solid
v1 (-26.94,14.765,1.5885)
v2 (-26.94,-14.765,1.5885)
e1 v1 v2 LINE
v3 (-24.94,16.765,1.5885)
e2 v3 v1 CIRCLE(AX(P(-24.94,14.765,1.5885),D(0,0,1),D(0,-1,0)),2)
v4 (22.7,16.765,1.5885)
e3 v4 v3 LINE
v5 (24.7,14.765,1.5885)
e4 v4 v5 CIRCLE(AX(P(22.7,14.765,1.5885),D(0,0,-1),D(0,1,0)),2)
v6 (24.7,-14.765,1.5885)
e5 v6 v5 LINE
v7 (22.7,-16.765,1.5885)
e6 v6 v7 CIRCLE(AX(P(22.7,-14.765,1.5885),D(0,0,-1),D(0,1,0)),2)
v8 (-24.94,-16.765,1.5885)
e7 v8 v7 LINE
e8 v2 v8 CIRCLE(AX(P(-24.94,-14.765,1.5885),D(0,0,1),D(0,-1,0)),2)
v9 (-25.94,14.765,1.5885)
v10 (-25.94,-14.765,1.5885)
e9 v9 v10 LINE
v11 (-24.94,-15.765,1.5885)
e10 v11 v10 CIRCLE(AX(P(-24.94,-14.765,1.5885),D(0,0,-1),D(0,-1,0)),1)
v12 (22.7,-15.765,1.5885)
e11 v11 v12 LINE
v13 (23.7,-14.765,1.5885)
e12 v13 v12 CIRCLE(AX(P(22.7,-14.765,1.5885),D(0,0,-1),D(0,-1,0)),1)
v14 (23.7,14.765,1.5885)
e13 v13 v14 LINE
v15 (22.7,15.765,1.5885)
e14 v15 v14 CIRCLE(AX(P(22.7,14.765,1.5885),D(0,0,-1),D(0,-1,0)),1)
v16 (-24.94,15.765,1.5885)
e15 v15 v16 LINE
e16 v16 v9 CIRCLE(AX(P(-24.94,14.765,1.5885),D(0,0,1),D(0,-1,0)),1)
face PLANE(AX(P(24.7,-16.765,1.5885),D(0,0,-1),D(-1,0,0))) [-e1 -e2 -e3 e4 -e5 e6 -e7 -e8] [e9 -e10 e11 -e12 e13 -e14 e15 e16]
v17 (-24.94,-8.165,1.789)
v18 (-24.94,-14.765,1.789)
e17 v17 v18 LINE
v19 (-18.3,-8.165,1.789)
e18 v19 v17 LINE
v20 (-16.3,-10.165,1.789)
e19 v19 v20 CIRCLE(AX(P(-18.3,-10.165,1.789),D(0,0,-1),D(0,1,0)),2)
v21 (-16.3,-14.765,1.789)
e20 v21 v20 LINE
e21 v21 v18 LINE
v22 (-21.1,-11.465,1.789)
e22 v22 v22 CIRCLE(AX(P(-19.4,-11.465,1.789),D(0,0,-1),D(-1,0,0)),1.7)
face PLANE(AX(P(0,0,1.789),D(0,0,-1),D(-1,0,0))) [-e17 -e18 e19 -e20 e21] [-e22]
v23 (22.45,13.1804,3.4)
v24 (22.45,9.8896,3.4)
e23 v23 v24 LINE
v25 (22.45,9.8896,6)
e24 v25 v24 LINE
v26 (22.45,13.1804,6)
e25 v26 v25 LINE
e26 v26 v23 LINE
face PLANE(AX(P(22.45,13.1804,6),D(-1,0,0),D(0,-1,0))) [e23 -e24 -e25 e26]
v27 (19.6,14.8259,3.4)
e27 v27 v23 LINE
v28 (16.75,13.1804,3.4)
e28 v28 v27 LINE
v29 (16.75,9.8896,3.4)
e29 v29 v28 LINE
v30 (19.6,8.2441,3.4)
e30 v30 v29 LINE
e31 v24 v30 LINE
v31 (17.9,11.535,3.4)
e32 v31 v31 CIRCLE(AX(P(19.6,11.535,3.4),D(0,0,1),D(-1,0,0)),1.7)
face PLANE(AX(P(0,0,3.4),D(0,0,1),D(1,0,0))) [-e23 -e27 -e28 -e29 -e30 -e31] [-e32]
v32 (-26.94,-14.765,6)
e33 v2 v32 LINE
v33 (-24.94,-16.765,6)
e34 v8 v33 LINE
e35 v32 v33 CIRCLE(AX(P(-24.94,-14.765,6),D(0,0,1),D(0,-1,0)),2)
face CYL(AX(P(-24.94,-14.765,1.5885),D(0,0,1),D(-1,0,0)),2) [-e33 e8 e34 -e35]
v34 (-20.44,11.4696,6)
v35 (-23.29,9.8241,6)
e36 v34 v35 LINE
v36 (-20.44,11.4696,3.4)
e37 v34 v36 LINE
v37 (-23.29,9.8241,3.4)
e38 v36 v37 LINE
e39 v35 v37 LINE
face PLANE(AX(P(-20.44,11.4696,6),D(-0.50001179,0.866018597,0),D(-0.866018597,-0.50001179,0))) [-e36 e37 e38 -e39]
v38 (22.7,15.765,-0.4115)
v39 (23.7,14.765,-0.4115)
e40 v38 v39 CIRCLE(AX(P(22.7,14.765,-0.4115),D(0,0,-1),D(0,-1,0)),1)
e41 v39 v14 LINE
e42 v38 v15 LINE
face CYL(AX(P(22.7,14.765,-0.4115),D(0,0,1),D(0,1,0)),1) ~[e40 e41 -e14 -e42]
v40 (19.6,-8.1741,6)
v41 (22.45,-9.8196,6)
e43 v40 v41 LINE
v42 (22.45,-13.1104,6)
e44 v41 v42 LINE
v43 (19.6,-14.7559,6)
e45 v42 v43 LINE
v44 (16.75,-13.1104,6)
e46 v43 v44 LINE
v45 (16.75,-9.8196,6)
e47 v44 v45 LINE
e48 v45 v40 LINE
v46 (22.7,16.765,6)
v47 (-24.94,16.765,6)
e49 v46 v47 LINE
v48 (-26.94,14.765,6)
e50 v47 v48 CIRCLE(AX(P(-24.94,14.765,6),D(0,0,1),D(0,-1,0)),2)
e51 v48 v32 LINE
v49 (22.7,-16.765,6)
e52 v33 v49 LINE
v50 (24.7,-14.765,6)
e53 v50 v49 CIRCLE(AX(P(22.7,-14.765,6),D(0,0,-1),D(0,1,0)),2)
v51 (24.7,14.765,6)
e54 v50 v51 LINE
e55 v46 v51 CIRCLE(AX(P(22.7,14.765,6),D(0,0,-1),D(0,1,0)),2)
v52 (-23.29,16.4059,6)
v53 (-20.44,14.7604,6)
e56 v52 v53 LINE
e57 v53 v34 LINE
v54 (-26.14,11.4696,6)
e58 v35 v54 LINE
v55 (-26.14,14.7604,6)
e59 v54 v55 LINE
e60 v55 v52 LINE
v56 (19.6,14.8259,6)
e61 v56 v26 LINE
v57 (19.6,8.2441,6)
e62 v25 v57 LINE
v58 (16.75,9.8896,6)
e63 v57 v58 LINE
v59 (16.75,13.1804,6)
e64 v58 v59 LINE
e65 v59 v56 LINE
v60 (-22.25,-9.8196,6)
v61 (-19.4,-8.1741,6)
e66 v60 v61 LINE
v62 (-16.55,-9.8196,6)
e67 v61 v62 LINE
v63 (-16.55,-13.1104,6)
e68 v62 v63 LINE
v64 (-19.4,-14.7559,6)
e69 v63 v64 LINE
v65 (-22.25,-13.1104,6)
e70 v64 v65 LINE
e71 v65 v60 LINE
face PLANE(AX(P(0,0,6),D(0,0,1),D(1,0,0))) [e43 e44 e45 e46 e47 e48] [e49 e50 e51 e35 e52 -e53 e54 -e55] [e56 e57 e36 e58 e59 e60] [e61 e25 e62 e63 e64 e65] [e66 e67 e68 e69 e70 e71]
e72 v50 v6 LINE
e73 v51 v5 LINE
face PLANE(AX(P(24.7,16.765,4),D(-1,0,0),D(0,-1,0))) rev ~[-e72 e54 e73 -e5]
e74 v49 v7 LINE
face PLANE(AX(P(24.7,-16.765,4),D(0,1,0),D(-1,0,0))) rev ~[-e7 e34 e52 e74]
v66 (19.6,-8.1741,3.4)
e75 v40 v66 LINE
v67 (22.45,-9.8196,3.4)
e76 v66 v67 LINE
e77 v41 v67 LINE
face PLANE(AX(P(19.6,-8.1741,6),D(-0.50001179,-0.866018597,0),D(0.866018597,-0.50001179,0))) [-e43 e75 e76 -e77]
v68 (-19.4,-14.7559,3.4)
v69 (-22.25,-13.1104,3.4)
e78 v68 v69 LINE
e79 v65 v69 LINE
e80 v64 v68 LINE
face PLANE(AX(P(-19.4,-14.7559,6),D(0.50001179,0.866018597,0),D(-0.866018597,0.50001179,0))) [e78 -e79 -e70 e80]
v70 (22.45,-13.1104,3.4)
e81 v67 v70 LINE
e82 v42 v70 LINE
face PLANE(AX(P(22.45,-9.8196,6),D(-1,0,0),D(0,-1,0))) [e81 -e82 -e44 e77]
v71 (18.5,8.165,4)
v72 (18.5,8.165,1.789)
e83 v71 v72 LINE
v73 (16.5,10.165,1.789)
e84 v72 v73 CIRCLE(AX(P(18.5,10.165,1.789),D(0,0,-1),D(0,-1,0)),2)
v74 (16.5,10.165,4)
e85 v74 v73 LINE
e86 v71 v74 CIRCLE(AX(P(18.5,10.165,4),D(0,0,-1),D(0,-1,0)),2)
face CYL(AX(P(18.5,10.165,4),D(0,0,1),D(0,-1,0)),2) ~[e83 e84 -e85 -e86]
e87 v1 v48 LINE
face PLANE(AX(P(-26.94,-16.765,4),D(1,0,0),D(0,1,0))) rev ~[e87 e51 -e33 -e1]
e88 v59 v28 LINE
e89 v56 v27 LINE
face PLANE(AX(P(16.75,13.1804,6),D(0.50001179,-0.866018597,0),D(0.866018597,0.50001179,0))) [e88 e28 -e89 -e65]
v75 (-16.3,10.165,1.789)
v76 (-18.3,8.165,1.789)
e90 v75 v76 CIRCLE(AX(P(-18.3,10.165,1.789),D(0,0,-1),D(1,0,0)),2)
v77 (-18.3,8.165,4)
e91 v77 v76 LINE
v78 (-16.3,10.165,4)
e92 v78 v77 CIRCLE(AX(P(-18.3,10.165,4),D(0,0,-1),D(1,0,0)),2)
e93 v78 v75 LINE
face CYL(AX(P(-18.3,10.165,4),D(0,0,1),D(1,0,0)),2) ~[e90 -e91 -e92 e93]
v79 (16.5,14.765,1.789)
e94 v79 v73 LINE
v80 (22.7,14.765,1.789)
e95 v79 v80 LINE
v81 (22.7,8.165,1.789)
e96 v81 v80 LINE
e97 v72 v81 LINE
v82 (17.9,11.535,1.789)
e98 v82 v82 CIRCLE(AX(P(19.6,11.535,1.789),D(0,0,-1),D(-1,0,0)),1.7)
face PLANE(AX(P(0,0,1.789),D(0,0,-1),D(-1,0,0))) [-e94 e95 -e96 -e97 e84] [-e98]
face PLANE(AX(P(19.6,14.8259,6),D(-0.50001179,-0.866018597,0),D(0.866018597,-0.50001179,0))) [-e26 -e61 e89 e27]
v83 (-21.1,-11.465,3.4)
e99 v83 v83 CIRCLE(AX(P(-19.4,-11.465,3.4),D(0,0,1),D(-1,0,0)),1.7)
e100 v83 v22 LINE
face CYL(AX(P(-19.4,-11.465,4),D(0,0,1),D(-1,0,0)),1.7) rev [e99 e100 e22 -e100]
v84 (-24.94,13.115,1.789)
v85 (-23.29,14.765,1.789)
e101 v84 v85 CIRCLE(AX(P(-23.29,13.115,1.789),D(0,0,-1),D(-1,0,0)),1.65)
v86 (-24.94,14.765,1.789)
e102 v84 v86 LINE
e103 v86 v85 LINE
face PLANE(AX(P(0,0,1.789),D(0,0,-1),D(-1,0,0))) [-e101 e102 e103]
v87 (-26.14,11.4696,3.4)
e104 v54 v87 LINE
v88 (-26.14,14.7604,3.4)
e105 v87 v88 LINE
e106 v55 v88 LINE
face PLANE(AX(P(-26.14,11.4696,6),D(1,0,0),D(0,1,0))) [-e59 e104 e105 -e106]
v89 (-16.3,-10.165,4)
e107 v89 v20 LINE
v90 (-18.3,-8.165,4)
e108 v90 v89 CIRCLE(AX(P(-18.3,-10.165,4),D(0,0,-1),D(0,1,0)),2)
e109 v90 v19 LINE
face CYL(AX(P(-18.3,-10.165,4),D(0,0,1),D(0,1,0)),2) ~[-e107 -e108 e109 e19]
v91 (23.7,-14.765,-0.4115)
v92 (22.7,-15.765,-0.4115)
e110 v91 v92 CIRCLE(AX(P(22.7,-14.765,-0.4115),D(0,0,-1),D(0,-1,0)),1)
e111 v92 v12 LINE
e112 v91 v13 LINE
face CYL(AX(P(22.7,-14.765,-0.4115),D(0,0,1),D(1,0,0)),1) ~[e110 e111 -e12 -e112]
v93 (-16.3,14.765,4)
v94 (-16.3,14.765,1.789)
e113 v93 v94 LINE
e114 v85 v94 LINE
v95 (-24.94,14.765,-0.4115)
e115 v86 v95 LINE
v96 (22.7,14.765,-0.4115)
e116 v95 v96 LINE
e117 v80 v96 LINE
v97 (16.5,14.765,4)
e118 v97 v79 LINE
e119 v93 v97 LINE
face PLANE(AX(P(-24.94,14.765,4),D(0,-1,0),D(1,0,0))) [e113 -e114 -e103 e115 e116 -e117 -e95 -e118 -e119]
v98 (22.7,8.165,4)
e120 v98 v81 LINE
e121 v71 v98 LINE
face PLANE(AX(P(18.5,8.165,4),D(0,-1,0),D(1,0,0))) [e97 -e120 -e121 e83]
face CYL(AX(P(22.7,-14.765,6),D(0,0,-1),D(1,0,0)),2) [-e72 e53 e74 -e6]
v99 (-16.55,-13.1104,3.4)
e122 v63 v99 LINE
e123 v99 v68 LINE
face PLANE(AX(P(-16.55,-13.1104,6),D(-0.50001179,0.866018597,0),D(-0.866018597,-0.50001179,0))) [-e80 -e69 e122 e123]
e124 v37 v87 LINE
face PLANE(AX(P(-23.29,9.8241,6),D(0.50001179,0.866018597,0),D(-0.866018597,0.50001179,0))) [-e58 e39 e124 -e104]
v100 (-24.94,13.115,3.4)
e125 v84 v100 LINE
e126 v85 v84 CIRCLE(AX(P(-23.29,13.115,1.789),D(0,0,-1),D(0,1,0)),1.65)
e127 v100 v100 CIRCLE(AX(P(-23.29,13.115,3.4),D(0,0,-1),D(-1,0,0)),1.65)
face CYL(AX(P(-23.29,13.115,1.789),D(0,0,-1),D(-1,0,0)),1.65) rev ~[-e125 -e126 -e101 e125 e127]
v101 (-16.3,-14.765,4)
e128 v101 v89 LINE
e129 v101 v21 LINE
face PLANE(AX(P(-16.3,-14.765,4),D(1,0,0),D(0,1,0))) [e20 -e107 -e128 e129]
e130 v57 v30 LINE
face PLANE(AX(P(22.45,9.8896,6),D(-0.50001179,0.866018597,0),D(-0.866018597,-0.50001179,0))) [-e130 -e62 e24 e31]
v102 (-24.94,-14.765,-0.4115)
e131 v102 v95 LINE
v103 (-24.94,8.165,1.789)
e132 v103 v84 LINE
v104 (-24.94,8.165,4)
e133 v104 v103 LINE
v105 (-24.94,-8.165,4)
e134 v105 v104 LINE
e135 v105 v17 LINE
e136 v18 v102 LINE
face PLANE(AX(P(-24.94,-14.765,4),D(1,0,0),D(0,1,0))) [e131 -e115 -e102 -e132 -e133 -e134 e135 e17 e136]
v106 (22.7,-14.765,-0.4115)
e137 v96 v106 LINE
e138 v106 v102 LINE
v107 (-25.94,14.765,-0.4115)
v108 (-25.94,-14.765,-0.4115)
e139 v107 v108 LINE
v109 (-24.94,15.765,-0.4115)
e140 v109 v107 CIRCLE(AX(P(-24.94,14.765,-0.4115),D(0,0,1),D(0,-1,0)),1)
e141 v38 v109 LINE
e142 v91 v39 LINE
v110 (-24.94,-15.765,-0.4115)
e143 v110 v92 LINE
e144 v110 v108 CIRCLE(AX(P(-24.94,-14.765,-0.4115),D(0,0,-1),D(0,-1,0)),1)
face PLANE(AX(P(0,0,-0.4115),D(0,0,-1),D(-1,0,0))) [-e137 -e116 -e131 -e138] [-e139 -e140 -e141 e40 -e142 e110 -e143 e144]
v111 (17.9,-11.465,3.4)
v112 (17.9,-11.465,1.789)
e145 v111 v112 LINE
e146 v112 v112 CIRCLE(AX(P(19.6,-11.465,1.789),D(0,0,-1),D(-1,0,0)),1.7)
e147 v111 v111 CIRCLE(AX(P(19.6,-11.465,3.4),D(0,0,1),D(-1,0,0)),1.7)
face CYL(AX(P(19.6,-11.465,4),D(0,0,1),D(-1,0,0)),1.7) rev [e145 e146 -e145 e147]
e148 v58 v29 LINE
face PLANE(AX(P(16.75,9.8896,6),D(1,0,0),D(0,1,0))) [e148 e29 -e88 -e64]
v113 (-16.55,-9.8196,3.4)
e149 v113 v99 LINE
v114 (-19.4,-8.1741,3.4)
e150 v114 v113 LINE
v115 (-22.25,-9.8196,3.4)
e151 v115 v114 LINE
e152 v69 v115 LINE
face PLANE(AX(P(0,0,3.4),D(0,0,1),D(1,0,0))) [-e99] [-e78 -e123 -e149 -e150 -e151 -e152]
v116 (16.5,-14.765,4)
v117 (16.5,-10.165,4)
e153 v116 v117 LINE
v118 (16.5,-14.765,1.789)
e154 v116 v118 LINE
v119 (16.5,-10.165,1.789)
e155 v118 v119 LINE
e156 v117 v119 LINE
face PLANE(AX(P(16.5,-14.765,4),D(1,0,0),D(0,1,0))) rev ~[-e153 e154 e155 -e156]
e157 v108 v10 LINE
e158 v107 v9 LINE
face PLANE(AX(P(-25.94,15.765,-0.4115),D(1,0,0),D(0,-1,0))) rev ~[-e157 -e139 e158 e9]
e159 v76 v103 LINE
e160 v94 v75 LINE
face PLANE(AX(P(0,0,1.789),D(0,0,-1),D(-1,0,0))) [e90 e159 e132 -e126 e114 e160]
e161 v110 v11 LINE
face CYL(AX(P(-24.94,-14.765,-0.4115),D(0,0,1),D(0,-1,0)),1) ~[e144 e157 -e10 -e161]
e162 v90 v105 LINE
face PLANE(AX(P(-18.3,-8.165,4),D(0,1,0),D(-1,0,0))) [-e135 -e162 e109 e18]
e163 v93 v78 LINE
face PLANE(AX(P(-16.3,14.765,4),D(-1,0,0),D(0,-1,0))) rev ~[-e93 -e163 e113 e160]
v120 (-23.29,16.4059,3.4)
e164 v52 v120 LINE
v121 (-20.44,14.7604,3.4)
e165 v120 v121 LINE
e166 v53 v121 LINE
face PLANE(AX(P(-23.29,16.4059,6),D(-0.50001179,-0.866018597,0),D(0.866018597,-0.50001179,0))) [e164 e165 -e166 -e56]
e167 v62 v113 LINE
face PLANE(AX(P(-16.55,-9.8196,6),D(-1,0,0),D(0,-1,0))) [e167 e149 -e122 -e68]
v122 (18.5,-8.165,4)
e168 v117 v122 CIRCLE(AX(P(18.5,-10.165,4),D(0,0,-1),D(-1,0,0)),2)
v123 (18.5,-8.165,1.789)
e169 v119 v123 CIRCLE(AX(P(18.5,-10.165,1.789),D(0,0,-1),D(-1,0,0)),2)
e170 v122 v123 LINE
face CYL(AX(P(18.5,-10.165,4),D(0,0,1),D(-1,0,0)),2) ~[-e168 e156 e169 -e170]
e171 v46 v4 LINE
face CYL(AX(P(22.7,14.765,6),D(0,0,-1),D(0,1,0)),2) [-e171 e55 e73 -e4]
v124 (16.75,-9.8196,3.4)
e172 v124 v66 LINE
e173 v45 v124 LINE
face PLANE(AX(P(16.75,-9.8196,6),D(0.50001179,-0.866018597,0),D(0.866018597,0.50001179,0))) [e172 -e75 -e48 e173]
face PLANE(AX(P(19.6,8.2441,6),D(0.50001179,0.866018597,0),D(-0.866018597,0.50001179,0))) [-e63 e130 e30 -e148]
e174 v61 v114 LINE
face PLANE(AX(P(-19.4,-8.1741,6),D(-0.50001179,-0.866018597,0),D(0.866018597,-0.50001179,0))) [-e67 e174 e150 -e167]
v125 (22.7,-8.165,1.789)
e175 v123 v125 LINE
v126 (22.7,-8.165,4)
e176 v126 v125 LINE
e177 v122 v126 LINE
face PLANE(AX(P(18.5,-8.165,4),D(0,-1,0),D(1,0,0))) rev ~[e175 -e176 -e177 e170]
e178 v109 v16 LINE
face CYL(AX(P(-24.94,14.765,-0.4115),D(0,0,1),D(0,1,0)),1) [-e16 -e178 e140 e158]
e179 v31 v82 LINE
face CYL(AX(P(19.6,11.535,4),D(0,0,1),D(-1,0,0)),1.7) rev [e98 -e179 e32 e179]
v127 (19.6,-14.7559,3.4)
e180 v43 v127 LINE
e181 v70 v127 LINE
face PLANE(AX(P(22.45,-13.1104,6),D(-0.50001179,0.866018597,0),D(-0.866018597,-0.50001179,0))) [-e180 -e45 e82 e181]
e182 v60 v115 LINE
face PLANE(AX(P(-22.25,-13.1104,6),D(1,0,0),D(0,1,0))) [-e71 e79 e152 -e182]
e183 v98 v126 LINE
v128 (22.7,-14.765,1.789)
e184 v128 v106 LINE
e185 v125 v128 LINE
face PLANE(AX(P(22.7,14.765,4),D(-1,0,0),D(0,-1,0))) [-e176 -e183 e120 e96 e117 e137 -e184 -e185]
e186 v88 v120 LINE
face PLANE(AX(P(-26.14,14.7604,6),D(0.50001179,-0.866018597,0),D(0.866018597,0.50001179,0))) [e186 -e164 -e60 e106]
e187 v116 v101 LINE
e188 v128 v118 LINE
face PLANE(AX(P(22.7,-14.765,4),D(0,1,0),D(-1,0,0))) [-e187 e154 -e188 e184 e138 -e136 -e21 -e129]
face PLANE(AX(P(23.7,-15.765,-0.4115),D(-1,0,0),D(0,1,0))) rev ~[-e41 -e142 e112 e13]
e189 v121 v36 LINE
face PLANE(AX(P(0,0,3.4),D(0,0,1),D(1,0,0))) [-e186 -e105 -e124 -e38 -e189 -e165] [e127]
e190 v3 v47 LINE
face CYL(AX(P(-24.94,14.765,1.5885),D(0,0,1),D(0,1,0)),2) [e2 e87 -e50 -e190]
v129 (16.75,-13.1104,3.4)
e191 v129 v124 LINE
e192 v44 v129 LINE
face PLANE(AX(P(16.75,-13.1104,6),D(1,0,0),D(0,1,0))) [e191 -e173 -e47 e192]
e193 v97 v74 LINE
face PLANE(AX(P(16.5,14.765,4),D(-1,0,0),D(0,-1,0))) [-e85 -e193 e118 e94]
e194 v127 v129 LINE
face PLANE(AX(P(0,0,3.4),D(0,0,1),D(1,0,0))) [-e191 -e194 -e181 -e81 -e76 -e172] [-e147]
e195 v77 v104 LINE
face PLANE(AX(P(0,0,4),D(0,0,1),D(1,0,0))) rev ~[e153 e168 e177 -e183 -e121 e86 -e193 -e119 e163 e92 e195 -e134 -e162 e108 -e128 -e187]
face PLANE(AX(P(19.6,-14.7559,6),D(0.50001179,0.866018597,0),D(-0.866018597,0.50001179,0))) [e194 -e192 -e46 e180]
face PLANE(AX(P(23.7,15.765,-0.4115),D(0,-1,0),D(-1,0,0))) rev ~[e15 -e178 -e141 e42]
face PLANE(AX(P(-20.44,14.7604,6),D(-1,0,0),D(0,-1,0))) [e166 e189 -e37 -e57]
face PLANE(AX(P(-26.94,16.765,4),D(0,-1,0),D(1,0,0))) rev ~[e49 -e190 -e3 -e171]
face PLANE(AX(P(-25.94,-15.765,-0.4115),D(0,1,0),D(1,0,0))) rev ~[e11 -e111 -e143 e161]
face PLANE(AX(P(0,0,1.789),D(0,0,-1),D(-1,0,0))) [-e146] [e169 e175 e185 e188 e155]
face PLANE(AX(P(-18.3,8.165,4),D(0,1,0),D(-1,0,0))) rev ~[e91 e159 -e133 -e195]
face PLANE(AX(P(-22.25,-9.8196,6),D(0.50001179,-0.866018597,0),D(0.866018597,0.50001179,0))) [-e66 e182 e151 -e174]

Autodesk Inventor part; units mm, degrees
ref_plane "YZ Plane" through (0, 0, 0) normal (1, 0, 0) x (0, 1, 0)
ref_plane "Arbeitsebene1" through (0, 0, 6) normal (0, 0, 1) x (1, 0, 0)
sketch "Skizze3" plane through (0, 0, 6) normal (0, 0, 1) x (1, 0, 0)
  line L0 (22.5, -14.565) -> (22.5, 14.565) projected
  line L1 (-22.5, -14.565) -> (22.5, -14.565) projected
  line L2 (-22.5, 10.565) -> (-22.5, -14.565) projected
  line L3 (22.5, 14.565) -> (-18.5, 14.565) projected
  circle A0 centre (19.6, -11.465) radius 1.5 projected
  circle A1 centre (13.06, -2.125) radius 0.65 projected
  circle A2 centre (13.06, -4.665) radius 0.65 projected
  circle A3 centre (13.06, 0.415) radius 0.65 projected
  circle A4 centre (13.06, 2.955) radius 0.65 projected
  circle A5 centre (-2.18, 5.495) radius 0.65 projected
  circle A6 centre (13.06, 5.495) radius 0.65 projected
  circle A7 centre (19.6, 11.535) radius 1.5 projected
  circle A8 centre (13.06, 8.035) radius 0.65 projected
  circle A9 centre (13.06, 10.575) radius 0.65 projected
  circle A10 centre (-2.18, 8.035) radius 0.65 projected
  circle A11 centre (13.06, 13.115) radius 0.65 projected
  circle A12 centre (-2.18, 10.575) radius 0.65 projected
  circle A13 centre (-7.26, -6.945) radius 0.5 projected
  circle A14 centre (-2.18, -2.125) radius 0.65 projected
  circle A15 centre (-2.18, -4.665) radius 0.65 projected
  circle A16 centre (-12.34, -6.945) radius 0.5 projected
  circle A17 centre (-19.4, -11.465) radius 1.5 projected
  circle A18 centre (-7.26, -4.405) radius 0.5 projected
  circle A19 centre (-12.34, -4.405) radius 0.5 projected
  circle A20 centre (-2.18, 0.415) radius 0.65 projected
  circle A21 centre (-2.18, 13.115) radius 0.65 projected
  circle A22 centre (-2.18, 2.955) radius 0.65 projected
  circle A23 centre (-7.26, -1.865) radius 0.5 projected
  circle A24 centre (-12.34, -1.865) radius 0.5 projected
  circle A25 centre (-7.26, 0.675) radius 0.5 projected
  circle A26 centre (-12.34, 0.675) radius 0.5 projected
  line L4 (-24.7, -16.765) -> (24.7, -16.765)
  line L5 (24.7, -16.765) -> (24.7, 16.765)
  line L6 (24.7, 16.765) -> (-24.7, 16.765)
  line L7 (-24.7, 16.765) -> (-24.7, -16.765)
  line L8 (-24.34, 2.175) -> (-10.84, 2.175) projected
  line L9 (-10.84, 2.175) -> (-10.84, -8.525) projected
  line L10 (-10.84, -8.525) -> (-24.34, -8.525) projected
  line L11 (-24.34, -8.525) -> (-24.34, 2.175) projected
  circle A27 centre (-12.34, -1.865) radius 0.5 projected
  circle A28 centre (-12.34, -4.405) radius 0.5 projected
  circle A29 centre (-12.34, -6.945) radius 0.5 projected
  circle A30 centre (-12.34, 0.675) radius 0.5 projected
  circle A31 centre (-21.39, -0.725) radius 1.5 projected
  line L12 (24.7, 16.765) -> (-26.94, 16.765)
  line L13 (-26.94, 16.765) -> (-26.94, -16.765)
  line L14 (-26.94, -16.765) -> (24.7, -16.765)
  line L15 (24.7, -16.765) -> (24.7, 16.765)
  line L16 (-18.5, 10.565) -> (-18.5, 14.565) projected
  line L17 (-22.5, 10.565) -> (-18.5, 10.565) projected
  point P0 (0, 0)
  point P1 (-24.7, 16.765)
  dimension "d5" = 2.2
  dimension "d6" = 2.6
extrude "Extrusion2" add sketch "Skizze3" against normal blind 2 contours L1 L2 L10 L9 L8 L17 L16 L3 L0 | L10 L11 L8 L2 A31 | L2 A31 L8 L9 L10 | A31 L2 | L2 A31 | A0 | A1 | A2 | A3 | A4 | A5 | A6 | A7 | A8 | A9 | A10 | A11 | A12 | A13 | A14 | A15 | A16 | A17 | A18 | A19 | A20 | A21 | A22 | A23 | A24 | A25 | A26 | L7 L6 L5 L4 | L14 L13 L12 L7
sketch "Skizze4" plane through (0, 0, 4) normal (0, 0, -1) x (-1, 0, 0)
  line L0 (-24.7, 16.765) -> (-24.7, -16.765) projected
  line L1 (-24.7, -16.765) -> (26.94, -16.765) projected
  line L2 (26.94, -16.765) -> (26.94, 16.765) projected
  line L3 (26.94, 16.765) -> (-24.7, 16.765) projected
  line L4 (-22.7, 14.765) -> (-22.7, -14.765)
  line L5 (-22.7, -14.765) -> (24.94, -14.765)
  line L6 (24.94, -14.765) -> (24.94, 14.765)
  line L7 (24.94, 14.765) -> (-22.7, 14.765)
  point P0 (0, 0)
  dimension "d9" = 2
ref_plane "Arbeitsebene2" through (-22.5, -14.565, -0.4115) normal (0, 0, -1) x (0, 1, 0)
extrude "Extrusion3" add sketch "Skizze4" along normal up to surface (4.4115 mm away)
sketch "Skizze5" plane through (24.7, -16.765, -0.4115) normal (0, 0, -1) x (-1, 0, 0)
  line L0 (2, 31.53) -> (2, 2) projected
  line L1 (49.64, 31.53) -> (2, 31.53) projected
  line L2 (49.64, 2) -> (49.64, 31.53) projected
  line L3 (2, 2) -> (49.64, 2) projected
  line L4 (0, 0) -> (0, 33.53) projected
  line L5 (51.64, 0) -> (0, 0) projected
  line L6 (51.64, 33.53) -> (51.64, 0) projected
  line L7 (0, 33.53) -> (51.64, 33.53) projected
  line L8 (50.64, 32.53) -> (50.64, 1)
  line L9 (50.64, 1) -> (1, 1)
  line L10 (1, 1) -> (1, 32.53)
  line L11 (1, 32.53) -> (50.64, 32.53)
  point P0 (24.7, 16.765)
  dimension "d12" = 1
extrude "Extrusion4" cut sketch "Skizze5" against normal blind 2 contours L4 L7 L6 L5
sketch "Skizze6" plane through (0, 0, 4) normal (0, 0, -1) x (-1, 0, 0)
  circle A0 centre (-19.6, 11.535) radius 1.5 projected
  circle A1 centre (-19.6, -11.465) radius 1.5 projected
  circle A2 centre (19.4, -11.465) radius 1.5 projected
  circle A3 centre (-19.6, -11.465) radius 1.7
  circle A4 centre (-19.6, 11.535) radius 1.7
  circle A5 centre (19.4, -11.465) radius 1.7
  line L0 (-22.7, -14.765) -> (24.94, -14.765) projected
  line L1 (-22.7, -14.765) -> (-16.5, -14.765)
  line L2 (-16.5, -14.765) -> (-16.5, -10.165)
  line L3 (-18.5, -8.165) -> (-22.7, -8.165)
  line L4 (-22.7, -8.165) -> (-22.7, -14.765)
  arc A6 (-16.5, -10.165) -> (-18.5, -8.165) centre (-18.5, -10.165) ccw
  line L5 (24.94, 14.765) -> (-22.7, 14.765) projected
  line L6 (-22.7, 14.765) -> (-16.5, 14.765)
  line L7 (-16.5, 14.765) -> (-16.5, 10.165)
  line L8 (-18.5, 8.165) -> (-22.7, 8.165)
  line L9 (-22.7, 8.165) -> (-22.7, 14.765)
  line L10 (24.94, -14.765) -> (16.3, -14.765)
  line L11 (16.3, -14.765) -> (16.3, -10.165)
  line L12 (18.3, -8.165) -> (24.94, -8.165)
  line L13 (24.94, -8.165) -> (24.94, -14.765)
  arc A7 (18.3, -8.165) -> (16.3, -10.165) centre (18.3, -10.165) ccw
  arc A8 (-18.5, 8.165) -> (-16.5, 10.165) centre (-18.5, 10.165) ccw
  line L14 (24.94, 14.765) -> (16.3, 14.765)
  line L15 (16.3, 14.765) -> (16.3, 10.165)
  line L16 (18.3, 8.165) -> (24.94, 8.165)
  line L17 (24.94, 8.165) -> (24.94, 14.765)
  arc A9 (16.3, 10.165) -> (18.3, 8.165) centre (18.3, 10.165) ccw
  point P0 (0, 0)
  point P1 (-16.5, -8.165)
  point P2 (-16.5, 8.165)
  dimension "d15" = 0.2
  dimension "d16" = 0.2
  dimension "d17" = 0.2
  dimension "d18" = 6.2
  dimension "d19" = 6.6
  dimension "d20" = 2
  dimension "d21" = 6.2
  dimension "d22" = 6.6
  dimension "d23" = 3.3
  dimension "d24" = 3.1
  dimension "d25" = 2
  dimension "d26" = 2
ref_plane "Arbeitsebene3" through (-22.5, -14.565, 0) normal (0, 0, 1) x (1, 0, 0)
extrude "Extrusion5" add sketch "Skizze6" along normal blind 2.211 contours L4 L3 A6 L2 L0 | L11 A7 L12 L13 L0 | L17 L16 A9 L15 L5 | L7 A8 L8 L9 L5
sketch "Skizze7" plane through (19.6, 11.535, 4) normal (0, 0, -1) x (-1, 0, 0)
  circle A0 centre (0, 0) radius 1.7 projected
  circle A1 centre (0, -23) radius 1.7 projected
  circle A2 centre (39, -23) radius 1.7 projected
  point P0 (19.6, -11.535)
extrude "Extrusion6" cut sketch "Skizze7" against normal up to surface (2 mm away)
sketch "Skizze8" plane through (0, 0, 6) normal (0, 0, 1) x (1, 0, 0)
  circle A0 centre (19.6, -11.465) radius 1.7 projected
  circle A1 centre (19.6, 11.535) radius 1.7 projected
  circle A2 centre (-19.4, -11.465) radius 1.7 projected
  line L0 (24.7, -16.765) -> (24.7, 16.765) projected
  line L1 (24.7, 16.765) -> (-26.94, 16.765) projected
  line L2 (-26.94, 16.765) -> (-26.94, -16.765) projected
  line L3 (-26.94, -16.765) -> (24.7, -16.765) projected
  line L4 (16.75, -9.8196) -> (19.6, -8.1741)
  line L5 (19.6, -8.1741) -> (22.45, -9.8196)
  line L6 (22.45, -9.8196) -> (22.45, -13.1104)
  line L7 (22.45, -13.1104) -> (19.6, -14.7559)
  line L8 (19.6, -14.7559) -> (16.75, -13.1104)
  line L9 (16.75, -13.1104) -> (16.75, -9.8196)
  line L10 (16.75, 13.1804) -> (19.6, 14.8259)
  line L11 (19.6, 14.8259) -> (22.45, 13.1804)
  line L12 (22.45, 13.1804) -> (22.45, 9.8896)
  line L13 (22.45, 9.8896) -> (19.6, 8.2441)
  line L14 (19.6, 8.2441) -> (16.75, 9.8896)
  line L15 (16.75, 9.8896) -> (16.75, 13.1804)
  line L16 (-22.25, -9.8196) -> (-19.4, -8.1741)
  line L17 (-19.4, -8.1741) -> (-16.55, -9.8196)
  line L18 (-16.55, -9.8196) -> (-16.55, -13.1104)
  line L19 (-16.55, -13.1104) -> (-19.4, -14.7559)
  line L20 (-19.4, -14.7559) -> (-22.25, -13.1104)
  line L21 (-22.25, -13.1104) -> (-22.25, -9.8196)
  line L22 (24.7, -16.765) -> (24.7, 16.765) projected
  point P0 (0, 0)
  dimension "d31" = 5.7
  dimension "d32" = 5.7
  dimension "d33" = 5.7
extrude "Extrusion7" cut sketch "Skizze8" against normal blind 2.6 contours A0 | A1 | A2 | L4 L5 L6 L7 L8 L9 | L10 L11 L12 L13 L14 L15 | L16 L17 L18 L19 L20 L21
fillet "Rundung1" radius 2 4 edges at (24.7, -16.765, 3.7943) (-26.94, -16.765, 3.7943) (-26.94, 16.765, 5) (24.7, 16.765, 3.7943)
fillet "Rundung2" radius 1 4 edges at (-25.94, -15.765, 0.5885) (-25.94, 15.765, 0.5885) (23.7, 15.765, 0.5885) (23.7, -15.765, 0.5885)
sketch "Skizze9" plane through (0, 0, 1.789) normal (0, 0, -1) x (-1, 0, 0)
  line L0 (24.94, 14.765) -> (24.94, 8.165) projected
  line L1 (24.94, 14.765) -> (21.64, 14.765)
  line L2 (21.64, 14.765) -> (21.64, 11.465)
  line L3 (21.64, 11.465) -> (24.94, 11.465)
  line L4 (24.94, 11.465) -> (24.94, 14.765)
  circle A0 centre (23.29, 13.115) radius 1.65
  point P0 (0, 0)
  dimension "d38" = 3.3
  dimension "d39" = 3.3
extrude "Extrusion8" cut sketch "Skizze9" against normal blind 10 contours A0
sketch "Skizze10" plane through (0, 0, 6) normal (0, 0, 1) x (1, 0, 0)
  arc A0 (-24.94, 13.115) -> (-23.29, 14.765) centre (-23.29, 13.115) ccw projected
  line L0 (-20.44, 11.4696) -> (-23.29, 9.8241)
  line L1 (-23.29, 9.8241) -> (-26.14, 11.4696)
  line L2 (-26.14, 11.4696) -> (-26.14, 14.7604)
  line L3 (-26.14, 14.7604) -> (-23.29, 16.4059)
  line L4 (-23.29, 16.4059) -> (-20.44, 14.7604)
  line L5 (-20.44, 14.7604) -> (-20.44, 11.4696)
  line L6 (-26.94, 14.765) -> (-26.94, -14.765) projected
  point P0 (0, 0)
  point P1 (-26.14, 13.115)
  dimension "d42" = 5.7
extrude "Extrusion9" cut sketch "Skizze10" against normal blind 2.6
properties part number "Gehaeuse_unten"
